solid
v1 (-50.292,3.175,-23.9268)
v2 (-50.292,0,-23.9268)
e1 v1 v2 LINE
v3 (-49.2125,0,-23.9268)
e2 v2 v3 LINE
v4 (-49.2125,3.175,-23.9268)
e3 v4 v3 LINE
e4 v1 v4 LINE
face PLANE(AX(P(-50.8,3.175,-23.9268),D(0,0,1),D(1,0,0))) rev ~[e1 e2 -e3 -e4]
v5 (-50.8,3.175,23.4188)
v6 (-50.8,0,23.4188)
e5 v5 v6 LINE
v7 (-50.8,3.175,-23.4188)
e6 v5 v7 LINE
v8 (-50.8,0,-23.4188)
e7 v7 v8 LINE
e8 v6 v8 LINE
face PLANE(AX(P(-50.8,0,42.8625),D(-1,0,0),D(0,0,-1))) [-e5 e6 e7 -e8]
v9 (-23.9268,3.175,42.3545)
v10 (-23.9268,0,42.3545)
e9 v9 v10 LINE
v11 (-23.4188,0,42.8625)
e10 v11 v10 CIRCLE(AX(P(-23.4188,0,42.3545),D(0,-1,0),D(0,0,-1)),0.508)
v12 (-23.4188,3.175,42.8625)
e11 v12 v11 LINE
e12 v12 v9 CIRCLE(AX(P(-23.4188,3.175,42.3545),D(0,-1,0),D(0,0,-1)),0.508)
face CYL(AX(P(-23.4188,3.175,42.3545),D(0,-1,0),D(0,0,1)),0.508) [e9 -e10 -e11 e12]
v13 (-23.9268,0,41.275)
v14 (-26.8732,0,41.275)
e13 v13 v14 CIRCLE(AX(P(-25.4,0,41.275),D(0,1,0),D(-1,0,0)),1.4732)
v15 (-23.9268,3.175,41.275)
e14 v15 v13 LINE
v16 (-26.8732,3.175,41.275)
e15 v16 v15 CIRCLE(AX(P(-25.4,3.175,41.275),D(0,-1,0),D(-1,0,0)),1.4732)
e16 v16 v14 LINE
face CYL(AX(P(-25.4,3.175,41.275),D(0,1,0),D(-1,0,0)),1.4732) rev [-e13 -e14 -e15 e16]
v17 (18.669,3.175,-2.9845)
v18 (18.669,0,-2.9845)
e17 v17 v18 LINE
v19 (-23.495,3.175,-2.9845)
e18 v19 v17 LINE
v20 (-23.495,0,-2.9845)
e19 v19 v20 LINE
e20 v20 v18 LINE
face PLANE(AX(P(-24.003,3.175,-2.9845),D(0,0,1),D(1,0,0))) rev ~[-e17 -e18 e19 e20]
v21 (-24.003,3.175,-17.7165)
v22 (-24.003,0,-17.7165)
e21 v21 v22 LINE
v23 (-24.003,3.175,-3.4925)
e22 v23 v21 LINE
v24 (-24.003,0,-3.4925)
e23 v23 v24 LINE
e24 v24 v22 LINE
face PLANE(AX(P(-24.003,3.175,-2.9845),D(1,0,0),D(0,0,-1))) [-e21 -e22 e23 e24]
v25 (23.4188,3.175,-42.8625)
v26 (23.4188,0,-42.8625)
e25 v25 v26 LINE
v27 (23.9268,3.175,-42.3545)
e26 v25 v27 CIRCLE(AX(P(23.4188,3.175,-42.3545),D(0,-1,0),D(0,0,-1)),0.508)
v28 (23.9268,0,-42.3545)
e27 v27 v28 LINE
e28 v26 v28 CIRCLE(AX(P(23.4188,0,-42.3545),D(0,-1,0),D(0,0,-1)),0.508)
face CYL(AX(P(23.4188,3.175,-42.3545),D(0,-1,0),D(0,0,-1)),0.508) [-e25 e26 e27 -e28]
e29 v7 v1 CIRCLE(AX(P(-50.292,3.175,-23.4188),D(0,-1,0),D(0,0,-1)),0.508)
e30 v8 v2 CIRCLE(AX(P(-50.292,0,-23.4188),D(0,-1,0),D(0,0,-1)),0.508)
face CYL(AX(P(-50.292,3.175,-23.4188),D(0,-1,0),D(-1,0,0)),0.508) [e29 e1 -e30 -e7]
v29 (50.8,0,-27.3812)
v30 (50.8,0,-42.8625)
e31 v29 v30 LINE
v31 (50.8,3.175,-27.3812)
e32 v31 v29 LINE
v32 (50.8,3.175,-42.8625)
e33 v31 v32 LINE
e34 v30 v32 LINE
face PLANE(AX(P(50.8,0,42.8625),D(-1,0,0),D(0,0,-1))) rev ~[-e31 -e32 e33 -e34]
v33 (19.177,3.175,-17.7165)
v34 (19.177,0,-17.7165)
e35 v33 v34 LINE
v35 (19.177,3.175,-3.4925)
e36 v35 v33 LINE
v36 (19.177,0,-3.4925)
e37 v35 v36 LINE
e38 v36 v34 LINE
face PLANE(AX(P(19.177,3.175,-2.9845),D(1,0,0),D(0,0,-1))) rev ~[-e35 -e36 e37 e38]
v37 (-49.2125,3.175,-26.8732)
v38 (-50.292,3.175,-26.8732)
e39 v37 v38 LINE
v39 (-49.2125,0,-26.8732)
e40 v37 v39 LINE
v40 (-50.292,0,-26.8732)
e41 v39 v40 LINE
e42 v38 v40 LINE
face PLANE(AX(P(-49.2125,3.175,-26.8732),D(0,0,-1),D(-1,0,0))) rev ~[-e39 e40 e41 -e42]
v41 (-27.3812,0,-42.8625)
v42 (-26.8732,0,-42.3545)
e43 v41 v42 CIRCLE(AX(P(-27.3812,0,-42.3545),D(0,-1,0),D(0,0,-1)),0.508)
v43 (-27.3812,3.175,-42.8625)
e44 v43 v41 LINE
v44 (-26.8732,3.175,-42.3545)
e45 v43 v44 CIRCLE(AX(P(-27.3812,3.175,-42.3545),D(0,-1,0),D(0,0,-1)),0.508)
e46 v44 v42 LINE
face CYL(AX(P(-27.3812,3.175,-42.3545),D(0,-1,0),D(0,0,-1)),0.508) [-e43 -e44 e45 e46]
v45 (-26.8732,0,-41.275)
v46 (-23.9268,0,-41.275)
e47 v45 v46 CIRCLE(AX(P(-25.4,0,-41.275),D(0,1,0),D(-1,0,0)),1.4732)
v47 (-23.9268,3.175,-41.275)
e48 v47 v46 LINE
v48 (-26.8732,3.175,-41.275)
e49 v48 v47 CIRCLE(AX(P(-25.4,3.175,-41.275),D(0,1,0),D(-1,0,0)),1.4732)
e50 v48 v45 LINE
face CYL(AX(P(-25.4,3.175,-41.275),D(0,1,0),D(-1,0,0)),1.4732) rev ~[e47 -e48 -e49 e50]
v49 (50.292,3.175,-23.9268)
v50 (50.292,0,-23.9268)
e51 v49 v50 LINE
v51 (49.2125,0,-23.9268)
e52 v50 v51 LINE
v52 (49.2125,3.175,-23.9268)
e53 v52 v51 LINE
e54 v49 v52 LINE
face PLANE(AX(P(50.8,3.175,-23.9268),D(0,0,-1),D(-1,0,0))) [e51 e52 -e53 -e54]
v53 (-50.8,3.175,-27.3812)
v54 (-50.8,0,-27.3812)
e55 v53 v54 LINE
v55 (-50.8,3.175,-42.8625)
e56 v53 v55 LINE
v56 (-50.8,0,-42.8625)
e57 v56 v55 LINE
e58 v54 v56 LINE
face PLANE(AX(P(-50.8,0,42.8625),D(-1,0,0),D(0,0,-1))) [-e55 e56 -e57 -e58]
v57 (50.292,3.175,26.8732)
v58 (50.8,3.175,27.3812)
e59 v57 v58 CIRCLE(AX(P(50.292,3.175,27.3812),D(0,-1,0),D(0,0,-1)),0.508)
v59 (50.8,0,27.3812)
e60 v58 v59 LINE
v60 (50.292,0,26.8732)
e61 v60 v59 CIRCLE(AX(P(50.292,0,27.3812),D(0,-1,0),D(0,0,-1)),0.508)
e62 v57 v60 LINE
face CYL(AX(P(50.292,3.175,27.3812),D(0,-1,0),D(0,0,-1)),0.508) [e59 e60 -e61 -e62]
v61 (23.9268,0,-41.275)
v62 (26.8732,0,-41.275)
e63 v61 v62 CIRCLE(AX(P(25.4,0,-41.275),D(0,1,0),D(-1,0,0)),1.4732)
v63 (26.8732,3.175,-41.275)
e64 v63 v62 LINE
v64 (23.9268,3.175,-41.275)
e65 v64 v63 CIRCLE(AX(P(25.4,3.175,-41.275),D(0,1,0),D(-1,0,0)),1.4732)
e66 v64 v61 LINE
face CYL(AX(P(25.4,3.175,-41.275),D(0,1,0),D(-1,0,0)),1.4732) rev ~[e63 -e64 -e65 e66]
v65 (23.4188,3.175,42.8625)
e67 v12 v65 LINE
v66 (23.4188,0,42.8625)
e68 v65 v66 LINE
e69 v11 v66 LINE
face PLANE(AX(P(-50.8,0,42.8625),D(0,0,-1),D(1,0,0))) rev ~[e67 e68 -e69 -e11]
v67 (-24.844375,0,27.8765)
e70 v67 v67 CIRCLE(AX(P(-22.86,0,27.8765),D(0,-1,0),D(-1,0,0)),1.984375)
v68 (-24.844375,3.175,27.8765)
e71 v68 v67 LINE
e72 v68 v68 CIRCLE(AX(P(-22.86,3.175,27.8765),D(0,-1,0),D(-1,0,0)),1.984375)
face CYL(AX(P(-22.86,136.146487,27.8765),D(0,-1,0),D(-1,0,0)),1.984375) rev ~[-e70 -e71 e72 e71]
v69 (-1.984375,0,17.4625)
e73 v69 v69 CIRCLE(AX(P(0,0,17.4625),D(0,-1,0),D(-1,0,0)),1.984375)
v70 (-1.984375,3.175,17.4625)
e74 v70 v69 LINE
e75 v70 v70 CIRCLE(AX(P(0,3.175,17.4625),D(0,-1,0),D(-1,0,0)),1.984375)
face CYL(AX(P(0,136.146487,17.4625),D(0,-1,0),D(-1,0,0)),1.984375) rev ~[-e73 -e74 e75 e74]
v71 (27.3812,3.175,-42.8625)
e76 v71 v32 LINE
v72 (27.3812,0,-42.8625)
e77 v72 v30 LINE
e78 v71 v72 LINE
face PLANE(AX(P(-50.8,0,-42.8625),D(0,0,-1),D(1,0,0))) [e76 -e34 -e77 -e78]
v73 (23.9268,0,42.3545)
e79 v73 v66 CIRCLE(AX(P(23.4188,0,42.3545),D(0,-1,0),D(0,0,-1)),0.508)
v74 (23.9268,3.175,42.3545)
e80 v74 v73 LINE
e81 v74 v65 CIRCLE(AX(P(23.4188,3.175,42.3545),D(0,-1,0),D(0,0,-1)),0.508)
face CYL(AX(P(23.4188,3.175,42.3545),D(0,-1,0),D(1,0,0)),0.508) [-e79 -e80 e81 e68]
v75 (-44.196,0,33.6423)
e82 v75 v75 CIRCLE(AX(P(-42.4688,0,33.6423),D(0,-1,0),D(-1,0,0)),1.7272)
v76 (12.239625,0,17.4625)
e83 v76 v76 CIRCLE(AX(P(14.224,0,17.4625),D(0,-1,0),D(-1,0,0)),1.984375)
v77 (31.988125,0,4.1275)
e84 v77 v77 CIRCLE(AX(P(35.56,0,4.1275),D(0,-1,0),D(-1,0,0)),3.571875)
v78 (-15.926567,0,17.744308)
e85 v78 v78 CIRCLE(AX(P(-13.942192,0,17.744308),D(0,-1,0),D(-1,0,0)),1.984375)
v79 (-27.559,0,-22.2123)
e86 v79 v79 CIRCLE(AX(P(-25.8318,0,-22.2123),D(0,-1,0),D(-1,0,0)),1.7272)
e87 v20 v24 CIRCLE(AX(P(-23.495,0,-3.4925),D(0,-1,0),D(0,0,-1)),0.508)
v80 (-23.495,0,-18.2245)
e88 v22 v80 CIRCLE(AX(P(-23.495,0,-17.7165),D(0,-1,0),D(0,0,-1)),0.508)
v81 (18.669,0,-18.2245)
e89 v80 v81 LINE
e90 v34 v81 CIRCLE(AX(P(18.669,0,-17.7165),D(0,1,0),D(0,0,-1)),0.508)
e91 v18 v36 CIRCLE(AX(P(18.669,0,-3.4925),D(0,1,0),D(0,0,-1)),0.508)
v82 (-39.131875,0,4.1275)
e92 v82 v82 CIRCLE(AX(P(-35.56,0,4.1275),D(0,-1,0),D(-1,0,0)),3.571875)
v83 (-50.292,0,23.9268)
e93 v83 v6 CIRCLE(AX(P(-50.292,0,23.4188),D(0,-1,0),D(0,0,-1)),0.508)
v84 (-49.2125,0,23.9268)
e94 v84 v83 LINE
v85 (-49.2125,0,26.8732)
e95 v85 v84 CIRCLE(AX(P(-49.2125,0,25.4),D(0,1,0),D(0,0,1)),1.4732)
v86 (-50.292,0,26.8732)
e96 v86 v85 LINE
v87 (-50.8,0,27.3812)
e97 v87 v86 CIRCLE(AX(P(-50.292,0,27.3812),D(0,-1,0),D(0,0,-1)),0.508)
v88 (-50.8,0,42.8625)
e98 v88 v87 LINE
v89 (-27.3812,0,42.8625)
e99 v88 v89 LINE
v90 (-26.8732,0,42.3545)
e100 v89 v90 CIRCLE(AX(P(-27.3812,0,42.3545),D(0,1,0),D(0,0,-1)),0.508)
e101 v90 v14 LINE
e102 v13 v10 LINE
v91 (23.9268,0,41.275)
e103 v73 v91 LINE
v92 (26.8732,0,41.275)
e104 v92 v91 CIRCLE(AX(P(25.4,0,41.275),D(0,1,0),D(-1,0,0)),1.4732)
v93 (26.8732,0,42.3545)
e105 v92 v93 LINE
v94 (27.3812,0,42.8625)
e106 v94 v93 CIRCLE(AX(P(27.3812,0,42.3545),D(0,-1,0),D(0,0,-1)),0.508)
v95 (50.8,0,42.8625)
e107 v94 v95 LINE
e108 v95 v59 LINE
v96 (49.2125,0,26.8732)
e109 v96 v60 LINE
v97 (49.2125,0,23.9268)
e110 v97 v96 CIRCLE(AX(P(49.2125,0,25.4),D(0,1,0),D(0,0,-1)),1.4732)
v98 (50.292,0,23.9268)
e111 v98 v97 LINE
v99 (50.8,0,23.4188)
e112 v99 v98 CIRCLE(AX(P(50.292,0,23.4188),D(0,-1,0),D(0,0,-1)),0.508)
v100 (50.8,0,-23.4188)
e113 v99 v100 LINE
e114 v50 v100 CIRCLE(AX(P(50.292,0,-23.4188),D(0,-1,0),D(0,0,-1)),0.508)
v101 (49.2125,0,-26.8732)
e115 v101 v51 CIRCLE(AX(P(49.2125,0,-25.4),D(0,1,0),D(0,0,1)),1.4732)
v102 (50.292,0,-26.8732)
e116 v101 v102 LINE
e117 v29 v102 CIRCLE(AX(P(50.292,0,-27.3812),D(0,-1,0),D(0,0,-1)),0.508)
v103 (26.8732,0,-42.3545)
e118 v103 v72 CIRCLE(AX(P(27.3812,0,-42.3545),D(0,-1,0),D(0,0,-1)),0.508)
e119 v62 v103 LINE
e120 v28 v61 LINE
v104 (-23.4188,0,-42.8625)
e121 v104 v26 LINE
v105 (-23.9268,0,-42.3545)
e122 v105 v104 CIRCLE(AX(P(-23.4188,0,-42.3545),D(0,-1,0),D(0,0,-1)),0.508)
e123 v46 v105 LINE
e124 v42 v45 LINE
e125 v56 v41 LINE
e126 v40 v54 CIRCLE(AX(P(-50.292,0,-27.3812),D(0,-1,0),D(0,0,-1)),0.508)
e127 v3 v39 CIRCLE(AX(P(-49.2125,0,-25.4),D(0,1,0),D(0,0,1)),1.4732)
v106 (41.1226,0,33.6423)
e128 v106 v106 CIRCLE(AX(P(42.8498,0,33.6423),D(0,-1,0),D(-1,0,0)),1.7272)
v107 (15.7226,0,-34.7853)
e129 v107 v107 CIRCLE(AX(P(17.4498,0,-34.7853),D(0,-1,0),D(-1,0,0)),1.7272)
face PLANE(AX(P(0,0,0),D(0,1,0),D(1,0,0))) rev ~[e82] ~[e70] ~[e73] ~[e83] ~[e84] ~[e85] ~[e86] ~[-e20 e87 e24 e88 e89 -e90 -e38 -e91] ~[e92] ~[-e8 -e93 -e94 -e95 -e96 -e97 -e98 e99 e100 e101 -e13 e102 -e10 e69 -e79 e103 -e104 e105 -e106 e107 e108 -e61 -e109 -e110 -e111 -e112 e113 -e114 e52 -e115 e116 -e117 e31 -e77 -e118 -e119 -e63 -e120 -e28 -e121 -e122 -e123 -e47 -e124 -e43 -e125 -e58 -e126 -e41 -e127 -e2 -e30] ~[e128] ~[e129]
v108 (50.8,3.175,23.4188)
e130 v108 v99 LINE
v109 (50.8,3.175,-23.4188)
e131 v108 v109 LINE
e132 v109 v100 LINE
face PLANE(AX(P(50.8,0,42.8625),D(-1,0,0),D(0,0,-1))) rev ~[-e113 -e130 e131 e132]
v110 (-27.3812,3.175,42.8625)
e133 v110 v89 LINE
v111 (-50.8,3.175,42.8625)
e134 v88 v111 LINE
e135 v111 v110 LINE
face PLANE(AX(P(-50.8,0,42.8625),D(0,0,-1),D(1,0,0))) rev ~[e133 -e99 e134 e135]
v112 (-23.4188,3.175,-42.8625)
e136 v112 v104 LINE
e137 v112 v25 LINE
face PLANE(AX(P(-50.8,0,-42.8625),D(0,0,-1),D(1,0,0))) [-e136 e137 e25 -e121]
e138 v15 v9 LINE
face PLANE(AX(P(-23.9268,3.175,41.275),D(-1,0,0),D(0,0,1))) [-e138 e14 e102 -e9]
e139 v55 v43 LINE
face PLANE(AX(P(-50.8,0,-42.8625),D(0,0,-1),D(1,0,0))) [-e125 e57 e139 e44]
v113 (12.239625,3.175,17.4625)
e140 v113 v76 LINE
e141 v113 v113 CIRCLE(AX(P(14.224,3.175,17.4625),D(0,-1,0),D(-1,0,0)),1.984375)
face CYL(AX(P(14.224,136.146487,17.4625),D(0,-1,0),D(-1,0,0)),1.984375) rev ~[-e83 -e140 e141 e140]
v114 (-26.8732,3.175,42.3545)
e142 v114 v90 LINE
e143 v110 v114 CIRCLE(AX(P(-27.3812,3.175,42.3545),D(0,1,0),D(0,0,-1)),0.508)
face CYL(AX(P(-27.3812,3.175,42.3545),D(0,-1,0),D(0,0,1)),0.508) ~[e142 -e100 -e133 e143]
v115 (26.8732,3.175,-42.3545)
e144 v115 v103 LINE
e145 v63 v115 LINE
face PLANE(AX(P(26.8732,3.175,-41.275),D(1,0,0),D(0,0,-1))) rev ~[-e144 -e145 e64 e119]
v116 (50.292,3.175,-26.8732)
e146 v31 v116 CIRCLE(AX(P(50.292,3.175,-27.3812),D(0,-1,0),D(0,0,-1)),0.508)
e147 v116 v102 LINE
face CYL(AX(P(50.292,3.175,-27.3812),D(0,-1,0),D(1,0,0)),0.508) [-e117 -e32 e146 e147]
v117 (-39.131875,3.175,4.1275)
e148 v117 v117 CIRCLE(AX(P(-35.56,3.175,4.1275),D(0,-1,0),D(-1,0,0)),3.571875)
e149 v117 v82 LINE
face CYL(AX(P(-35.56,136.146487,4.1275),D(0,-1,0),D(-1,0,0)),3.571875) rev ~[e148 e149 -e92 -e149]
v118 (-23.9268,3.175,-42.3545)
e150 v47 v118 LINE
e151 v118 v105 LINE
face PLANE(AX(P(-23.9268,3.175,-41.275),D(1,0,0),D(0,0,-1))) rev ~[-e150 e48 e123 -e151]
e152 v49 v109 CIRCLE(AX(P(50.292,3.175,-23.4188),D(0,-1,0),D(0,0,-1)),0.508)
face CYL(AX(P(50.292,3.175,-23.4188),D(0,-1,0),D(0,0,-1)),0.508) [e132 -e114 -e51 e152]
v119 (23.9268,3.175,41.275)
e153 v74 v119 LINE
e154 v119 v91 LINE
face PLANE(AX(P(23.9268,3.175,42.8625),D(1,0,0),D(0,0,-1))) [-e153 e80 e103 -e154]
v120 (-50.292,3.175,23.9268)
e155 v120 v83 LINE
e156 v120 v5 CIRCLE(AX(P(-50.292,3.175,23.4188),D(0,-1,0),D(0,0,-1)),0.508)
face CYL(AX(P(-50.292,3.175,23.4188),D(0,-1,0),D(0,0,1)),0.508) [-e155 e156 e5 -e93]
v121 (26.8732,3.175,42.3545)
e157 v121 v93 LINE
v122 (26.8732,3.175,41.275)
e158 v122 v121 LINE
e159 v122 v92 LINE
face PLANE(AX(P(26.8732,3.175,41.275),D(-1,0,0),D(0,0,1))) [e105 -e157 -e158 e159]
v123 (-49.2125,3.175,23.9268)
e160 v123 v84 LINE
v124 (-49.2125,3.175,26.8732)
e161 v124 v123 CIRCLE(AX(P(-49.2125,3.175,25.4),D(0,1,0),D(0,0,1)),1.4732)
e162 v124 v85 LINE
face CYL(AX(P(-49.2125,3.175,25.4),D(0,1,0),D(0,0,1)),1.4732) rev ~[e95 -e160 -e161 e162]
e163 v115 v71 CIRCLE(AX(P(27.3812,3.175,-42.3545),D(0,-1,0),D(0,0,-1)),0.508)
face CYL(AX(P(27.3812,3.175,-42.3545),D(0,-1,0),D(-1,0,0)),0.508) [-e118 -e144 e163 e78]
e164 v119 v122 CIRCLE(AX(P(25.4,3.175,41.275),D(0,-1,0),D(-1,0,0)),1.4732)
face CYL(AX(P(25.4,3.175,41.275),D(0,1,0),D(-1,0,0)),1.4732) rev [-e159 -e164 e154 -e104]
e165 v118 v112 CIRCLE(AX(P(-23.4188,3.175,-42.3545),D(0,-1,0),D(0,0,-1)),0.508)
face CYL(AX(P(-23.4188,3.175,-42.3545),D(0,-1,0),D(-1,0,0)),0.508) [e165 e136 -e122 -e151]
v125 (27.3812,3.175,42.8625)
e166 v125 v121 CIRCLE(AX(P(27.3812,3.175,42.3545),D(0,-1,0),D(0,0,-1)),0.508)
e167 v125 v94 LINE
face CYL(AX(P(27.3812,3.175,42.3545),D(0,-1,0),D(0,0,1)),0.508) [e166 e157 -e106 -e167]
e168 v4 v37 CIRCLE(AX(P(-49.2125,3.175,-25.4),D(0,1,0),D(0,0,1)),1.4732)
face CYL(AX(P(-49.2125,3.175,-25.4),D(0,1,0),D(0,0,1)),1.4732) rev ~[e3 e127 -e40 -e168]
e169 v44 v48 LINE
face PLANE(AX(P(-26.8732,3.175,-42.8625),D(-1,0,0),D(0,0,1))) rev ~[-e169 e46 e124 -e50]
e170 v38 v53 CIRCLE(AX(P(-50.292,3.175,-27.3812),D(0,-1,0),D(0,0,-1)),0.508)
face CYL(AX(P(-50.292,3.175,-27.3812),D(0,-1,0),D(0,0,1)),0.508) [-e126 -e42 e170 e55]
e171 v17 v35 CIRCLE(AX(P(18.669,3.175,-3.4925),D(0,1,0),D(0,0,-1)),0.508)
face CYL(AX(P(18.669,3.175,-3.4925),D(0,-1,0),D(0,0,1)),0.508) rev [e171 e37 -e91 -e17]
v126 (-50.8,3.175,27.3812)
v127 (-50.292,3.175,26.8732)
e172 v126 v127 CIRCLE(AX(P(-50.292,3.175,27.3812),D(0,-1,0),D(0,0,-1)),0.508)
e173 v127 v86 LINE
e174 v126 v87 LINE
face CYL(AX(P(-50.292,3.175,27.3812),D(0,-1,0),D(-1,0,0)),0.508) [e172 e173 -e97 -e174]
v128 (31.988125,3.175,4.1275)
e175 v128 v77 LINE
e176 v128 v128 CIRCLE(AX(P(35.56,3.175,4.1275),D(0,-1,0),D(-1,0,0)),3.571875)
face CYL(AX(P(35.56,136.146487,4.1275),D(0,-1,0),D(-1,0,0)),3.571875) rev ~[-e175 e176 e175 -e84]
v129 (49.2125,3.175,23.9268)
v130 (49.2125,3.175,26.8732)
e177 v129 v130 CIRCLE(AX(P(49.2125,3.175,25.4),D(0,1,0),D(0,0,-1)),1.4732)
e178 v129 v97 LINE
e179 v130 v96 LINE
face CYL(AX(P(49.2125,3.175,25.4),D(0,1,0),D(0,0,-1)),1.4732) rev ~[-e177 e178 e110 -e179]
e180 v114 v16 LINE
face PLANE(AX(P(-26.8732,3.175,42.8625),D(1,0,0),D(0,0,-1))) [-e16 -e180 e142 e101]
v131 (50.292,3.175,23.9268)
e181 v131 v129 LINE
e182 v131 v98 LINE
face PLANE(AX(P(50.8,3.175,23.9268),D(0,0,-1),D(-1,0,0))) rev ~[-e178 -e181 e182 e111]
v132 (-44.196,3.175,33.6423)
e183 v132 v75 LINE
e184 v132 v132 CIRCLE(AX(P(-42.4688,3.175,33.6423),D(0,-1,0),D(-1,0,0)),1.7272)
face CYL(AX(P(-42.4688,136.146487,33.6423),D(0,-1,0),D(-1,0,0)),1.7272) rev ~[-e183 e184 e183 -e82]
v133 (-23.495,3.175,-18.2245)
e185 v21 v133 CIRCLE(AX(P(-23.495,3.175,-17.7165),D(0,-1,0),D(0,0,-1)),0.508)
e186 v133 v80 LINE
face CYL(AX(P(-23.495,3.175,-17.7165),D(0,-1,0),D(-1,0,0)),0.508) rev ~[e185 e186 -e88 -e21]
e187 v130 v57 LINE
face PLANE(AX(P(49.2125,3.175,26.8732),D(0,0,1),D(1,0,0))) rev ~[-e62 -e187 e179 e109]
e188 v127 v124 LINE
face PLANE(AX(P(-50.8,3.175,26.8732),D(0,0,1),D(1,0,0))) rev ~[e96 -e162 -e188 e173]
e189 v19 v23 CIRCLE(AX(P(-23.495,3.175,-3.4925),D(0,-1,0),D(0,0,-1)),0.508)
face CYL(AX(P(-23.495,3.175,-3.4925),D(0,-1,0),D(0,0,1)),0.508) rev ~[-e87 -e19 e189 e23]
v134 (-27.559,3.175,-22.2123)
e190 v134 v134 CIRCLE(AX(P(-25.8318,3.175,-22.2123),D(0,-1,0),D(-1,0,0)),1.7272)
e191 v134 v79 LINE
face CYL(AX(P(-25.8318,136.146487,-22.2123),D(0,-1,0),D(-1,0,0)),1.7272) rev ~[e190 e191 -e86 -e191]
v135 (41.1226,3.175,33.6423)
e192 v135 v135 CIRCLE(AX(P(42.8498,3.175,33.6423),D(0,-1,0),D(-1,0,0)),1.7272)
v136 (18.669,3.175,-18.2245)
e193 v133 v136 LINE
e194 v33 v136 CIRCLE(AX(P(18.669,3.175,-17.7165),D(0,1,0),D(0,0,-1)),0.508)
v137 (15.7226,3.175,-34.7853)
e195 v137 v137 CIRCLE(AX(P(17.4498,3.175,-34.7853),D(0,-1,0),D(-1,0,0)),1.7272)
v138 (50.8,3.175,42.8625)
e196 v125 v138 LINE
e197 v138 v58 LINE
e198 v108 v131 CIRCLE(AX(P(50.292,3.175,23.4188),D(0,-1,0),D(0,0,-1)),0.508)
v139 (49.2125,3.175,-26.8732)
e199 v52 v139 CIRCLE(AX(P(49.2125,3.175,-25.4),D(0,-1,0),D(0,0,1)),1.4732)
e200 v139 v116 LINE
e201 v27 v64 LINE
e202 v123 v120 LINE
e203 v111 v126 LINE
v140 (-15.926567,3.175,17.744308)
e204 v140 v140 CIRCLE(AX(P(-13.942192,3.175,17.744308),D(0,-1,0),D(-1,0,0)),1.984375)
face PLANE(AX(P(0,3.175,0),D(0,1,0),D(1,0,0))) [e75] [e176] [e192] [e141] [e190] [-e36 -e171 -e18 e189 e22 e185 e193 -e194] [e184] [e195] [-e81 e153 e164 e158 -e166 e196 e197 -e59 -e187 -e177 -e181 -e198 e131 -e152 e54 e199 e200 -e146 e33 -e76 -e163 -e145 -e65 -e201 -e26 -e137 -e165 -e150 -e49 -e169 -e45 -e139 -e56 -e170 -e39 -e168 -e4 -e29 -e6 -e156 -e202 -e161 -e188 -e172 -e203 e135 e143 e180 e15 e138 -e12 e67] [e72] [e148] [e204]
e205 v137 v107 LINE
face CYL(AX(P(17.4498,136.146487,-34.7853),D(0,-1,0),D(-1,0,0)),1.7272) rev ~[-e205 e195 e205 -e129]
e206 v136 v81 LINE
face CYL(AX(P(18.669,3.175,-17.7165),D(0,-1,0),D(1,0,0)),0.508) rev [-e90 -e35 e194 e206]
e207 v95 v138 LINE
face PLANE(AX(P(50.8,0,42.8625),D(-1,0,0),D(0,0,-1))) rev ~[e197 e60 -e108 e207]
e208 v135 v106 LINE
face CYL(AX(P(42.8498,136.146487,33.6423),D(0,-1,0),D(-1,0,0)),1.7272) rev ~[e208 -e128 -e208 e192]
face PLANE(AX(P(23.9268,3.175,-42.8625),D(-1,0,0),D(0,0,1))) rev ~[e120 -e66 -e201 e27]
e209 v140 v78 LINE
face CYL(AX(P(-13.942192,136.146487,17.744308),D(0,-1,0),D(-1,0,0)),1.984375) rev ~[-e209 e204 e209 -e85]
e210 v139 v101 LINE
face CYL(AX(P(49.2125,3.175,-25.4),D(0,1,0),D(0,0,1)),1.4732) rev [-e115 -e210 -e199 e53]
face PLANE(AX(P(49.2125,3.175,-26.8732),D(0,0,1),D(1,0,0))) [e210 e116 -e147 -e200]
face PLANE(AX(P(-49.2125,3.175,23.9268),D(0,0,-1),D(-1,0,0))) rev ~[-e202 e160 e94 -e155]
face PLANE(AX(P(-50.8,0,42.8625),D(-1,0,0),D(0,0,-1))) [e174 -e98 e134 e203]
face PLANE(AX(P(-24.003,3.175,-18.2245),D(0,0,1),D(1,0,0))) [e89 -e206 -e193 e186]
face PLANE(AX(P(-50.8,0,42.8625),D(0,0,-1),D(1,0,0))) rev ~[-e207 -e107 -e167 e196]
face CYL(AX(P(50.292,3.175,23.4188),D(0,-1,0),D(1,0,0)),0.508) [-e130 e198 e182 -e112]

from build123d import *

# Parameters (mm, degrees)
SKETCH1_W                       = 101.6
SKETCH1_H                       = 85.725
BOSS_EXTRUDE1_DEPTH             = 3.175
F_29_0_136_DIAMETER_HOLE1_D     = 3.4544
F_9_32_0_28125_DIAMETER_HOLE1_D = 7.14375
F_5_32_0_15625_DIAMETER_HOLE1_D = 3.96875
SKETCH8_W                       = 43.18
SKETCH8_H                       = 15.24
CUT_EXTRUDE1_DEPTH              = 67.542576831
CUT_EXTRUDE2_DEPTH              = 67.542576831
FILLET1_R                       = 0.508
CUT_EXTRUDE3_DEPTH              = 67.542576831
FILLET2_R                       = 0.508


with BuildPart() as part:
    # Sketch1 → Boss-Extrude1 (new body)
    with BuildSketch(Plane(origin=(0, 0, 0), x_dir=(1, 0, 0), z_dir=(0, 1, 0))):
        Rectangle(SKETCH1_W, SKETCH1_H)
    extrude(amount=BOSS_EXTRUDE1_DEPTH)

    # #29 (0.136) Diameter Hole1 (through all)
    with Locations(Plane(origin=(0, 3.175, 0), x_dir=(1, 0, 0), z_dir=(0, 1, 0))):
        with Locations((-25.8318, 22.2123), (17.4498, 34.7853), (42.8498, -33.6423), (-42.4688, -33.6423)):
            Hole(F_29_0_136_DIAMETER_HOLE1_D / 2)

    # 9/32 (0.28125) Diameter Hole1 (through all)
    with Locations(Plane(origin=(0, 3.175, 0), x_dir=(1, 0, 0), z_dir=(0, 1, 0))):
        with Locations((-35.56, -4.1275), (35.56, -4.1275)):
            Hole(F_9_32_0_28125_DIAMETER_HOLE1_D / 2)

    # 5/32 (0.15625) Diameter Hole1 (through all)
    with Locations(Plane(origin=(0, 3.175, 0), x_dir=(1, 0, 0), z_dir=(0, 1, 0))):
        with Locations((-22.86, -27.8765), (-13.942192497, -17.744307503), (0, -17.4625), (14.224, -17.4625)):
            Hole(F_5_32_0_15625_DIAMETER_HOLE1_D / 2)

    # Sketch8 → Cut-Extrude1 (cut, through all)
    with BuildSketch(Plane(origin=(0, 3.175, 0), x_dir=(1, 0, 0), z_dir=(0, 1, 0))):
        with Locations((-2.413, 10.6045)):
            Rectangle(SKETCH8_W, SKETCH8_H)
    extrude(amount=-CUT_EXTRUDE1_DEPTH, mode=Mode.SUBTRACT)

    # Sketch9 → Cut-Extrude2 (cut, through all)
    with BuildSketch(Plane(origin=(0, 3.175, 0), x_dir=(1, 0, 0), z_dir=(0, 1, 0))):
        with BuildLine():
            Line((-49.2125, 26.8732), (-50.8, 26.8732))
            Line((-50.8, 26.8732), (-50.8, 23.9268))
            Line((-50.8, 23.9268), (-49.2125, 23.9268))
            ThreePointArc((-49.2125, 23.9268), (-47.7393, 25.4), (-49.2125, 26.8732))
        make_face()
        with BuildLine():
            Line((-49.2125, -23.9268), (-50.8, -23.9268))
            Line((-50.8, -23.9268), (-50.8, -26.8732))
            Line((-50.8, -26.8732), (-49.2125, -26.8732))
            ThreePointArc((-49.2125, -26.8732), (-47.7393, -25.4), (-49.2125, -23.9268))
        make_face()
        with BuildLine():
            Line((49.2125, -26.8732), (50.8, -26.8732))
            Line((50.8, -26.8732), (50.8, -23.9268))
            Line((50.8, -23.9268), (49.2125, -23.9268))
            ThreePointArc((49.2125, -23.9268), (47.7393, -25.4), (49.2125, -26.8732))
        make_face()
        with BuildLine():
            Line((50.8, 26.8732), (50.8, 23.9268))
            Line((50.8, 23.9268), (49.2125, 23.9268))
            ThreePointArc((49.2125, 23.9268), (47.7393, 25.4), (49.2125, 26.8732))
            Line((49.2125, 26.8732), (50.8, 26.8732))
        make_face()
    extrude(amount=-CUT_EXTRUDE2_DEPTH, mode=Mode.SUBTRACT)

    # Fillet1
    fillet1_edges = [part.edges().sort_by_distance(p)[0] for p in [
        (-50.8, 1.5875, -26.8732),
        (-50.8, 1.5875, 26.8732),
        (-50.8, 1.5875, 23.9268),
        (50.8, 1.5875, 23.9268),
        (50.8, 1.5875, 26.8732),
        (50.8, 1.5875, -26.8732),
        (50.8, 1.5875, -23.9268),
        (-24.003, 1.5875, -2.9845),
        (-24.003, 1.5875, -18.2245),
        (19.177, 1.5875, -18.2245),
        (19.177, 1.5875, -2.9845),
        (-50.8, 1.5875, -23.9268),
    ]]
    fillet(fillet1_edges, radius=FILLET1_R)

    # Sketch10 → Cut-Extrude3 (cut, through all)
    with BuildSketch(Plane(origin=(0, 3.175, 0), x_dir=(1, 0, 0), z_dir=(0, 1, 0))):
        with BuildLine():
            Line((-23.9268, 41.275), (-23.9268, 42.8625))
            Line((-23.9268, 42.8625), (-26.8732, 42.8625))
            Line((-26.8732, 42.8625), (-26.8732, 41.275))
            ThreePointArc((-26.8732, 41.275), (-25.4, 39.8018), (-23.9268, 41.275))
        make_face()
        with BuildLine():
            Line((26.8732, -41.275), (26.8732, -42.8625))
            Line((26.8732, -42.8625), (23.9268, -42.8625))
            Line((23.9268, -42.8625), (23.9268, -41.275))
            ThreePointArc((23.9268, -41.275), (25.4, -39.8018), (26.8732, -41.275))
        make_face()
        with BuildLine():
            Line((-23.9268, -41.275), (-23.9268, -42.8625))
            Line((-23.9268, -42.8625), (-26.8732, -42.8625))
            Line((-26.8732, -42.8625), (-26.8732, -41.275))
            ThreePointArc((-26.8732, -41.275), (-25.4, -39.8018), (-23.9268, -41.275))
        make_face()
        with BuildLine():
            Line((26.8732, 42.8625), (23.9268, 42.8625))
            Line((23.9268, 42.8625), (23.9268, 41.275))
            ThreePointArc((23.9268, 41.275), (25.4, 39.8018), (26.8732, 41.275))
            Line((26.8732, 41.275), (26.8732, 42.8625))
        make_face()
    extrude(amount=-CUT_EXTRUDE3_DEPTH, mode=Mode.SUBTRACT)

    # Fillet2
    fillet2_edges = [part.edges().sort_by_distance(p)[0] for p in [
        (-26.8732, 1.5875, -42.8625),
        (-23.9268, 1.5875, -42.8625),
        (26.8732, 1.5875, -42.8625),
        (23.9268, 1.5875, -42.8625),
        (-23.9268, 1.5875, 42.8625),
        (-26.8732, 1.5875, 42.8625),
        (26.8732, 1.5875, 42.8625),
        (23.9268, 1.5875, 42.8625),
    ]]
    fillet(fillet2_edges, radius=FILLET2_R)


solid = part.part
